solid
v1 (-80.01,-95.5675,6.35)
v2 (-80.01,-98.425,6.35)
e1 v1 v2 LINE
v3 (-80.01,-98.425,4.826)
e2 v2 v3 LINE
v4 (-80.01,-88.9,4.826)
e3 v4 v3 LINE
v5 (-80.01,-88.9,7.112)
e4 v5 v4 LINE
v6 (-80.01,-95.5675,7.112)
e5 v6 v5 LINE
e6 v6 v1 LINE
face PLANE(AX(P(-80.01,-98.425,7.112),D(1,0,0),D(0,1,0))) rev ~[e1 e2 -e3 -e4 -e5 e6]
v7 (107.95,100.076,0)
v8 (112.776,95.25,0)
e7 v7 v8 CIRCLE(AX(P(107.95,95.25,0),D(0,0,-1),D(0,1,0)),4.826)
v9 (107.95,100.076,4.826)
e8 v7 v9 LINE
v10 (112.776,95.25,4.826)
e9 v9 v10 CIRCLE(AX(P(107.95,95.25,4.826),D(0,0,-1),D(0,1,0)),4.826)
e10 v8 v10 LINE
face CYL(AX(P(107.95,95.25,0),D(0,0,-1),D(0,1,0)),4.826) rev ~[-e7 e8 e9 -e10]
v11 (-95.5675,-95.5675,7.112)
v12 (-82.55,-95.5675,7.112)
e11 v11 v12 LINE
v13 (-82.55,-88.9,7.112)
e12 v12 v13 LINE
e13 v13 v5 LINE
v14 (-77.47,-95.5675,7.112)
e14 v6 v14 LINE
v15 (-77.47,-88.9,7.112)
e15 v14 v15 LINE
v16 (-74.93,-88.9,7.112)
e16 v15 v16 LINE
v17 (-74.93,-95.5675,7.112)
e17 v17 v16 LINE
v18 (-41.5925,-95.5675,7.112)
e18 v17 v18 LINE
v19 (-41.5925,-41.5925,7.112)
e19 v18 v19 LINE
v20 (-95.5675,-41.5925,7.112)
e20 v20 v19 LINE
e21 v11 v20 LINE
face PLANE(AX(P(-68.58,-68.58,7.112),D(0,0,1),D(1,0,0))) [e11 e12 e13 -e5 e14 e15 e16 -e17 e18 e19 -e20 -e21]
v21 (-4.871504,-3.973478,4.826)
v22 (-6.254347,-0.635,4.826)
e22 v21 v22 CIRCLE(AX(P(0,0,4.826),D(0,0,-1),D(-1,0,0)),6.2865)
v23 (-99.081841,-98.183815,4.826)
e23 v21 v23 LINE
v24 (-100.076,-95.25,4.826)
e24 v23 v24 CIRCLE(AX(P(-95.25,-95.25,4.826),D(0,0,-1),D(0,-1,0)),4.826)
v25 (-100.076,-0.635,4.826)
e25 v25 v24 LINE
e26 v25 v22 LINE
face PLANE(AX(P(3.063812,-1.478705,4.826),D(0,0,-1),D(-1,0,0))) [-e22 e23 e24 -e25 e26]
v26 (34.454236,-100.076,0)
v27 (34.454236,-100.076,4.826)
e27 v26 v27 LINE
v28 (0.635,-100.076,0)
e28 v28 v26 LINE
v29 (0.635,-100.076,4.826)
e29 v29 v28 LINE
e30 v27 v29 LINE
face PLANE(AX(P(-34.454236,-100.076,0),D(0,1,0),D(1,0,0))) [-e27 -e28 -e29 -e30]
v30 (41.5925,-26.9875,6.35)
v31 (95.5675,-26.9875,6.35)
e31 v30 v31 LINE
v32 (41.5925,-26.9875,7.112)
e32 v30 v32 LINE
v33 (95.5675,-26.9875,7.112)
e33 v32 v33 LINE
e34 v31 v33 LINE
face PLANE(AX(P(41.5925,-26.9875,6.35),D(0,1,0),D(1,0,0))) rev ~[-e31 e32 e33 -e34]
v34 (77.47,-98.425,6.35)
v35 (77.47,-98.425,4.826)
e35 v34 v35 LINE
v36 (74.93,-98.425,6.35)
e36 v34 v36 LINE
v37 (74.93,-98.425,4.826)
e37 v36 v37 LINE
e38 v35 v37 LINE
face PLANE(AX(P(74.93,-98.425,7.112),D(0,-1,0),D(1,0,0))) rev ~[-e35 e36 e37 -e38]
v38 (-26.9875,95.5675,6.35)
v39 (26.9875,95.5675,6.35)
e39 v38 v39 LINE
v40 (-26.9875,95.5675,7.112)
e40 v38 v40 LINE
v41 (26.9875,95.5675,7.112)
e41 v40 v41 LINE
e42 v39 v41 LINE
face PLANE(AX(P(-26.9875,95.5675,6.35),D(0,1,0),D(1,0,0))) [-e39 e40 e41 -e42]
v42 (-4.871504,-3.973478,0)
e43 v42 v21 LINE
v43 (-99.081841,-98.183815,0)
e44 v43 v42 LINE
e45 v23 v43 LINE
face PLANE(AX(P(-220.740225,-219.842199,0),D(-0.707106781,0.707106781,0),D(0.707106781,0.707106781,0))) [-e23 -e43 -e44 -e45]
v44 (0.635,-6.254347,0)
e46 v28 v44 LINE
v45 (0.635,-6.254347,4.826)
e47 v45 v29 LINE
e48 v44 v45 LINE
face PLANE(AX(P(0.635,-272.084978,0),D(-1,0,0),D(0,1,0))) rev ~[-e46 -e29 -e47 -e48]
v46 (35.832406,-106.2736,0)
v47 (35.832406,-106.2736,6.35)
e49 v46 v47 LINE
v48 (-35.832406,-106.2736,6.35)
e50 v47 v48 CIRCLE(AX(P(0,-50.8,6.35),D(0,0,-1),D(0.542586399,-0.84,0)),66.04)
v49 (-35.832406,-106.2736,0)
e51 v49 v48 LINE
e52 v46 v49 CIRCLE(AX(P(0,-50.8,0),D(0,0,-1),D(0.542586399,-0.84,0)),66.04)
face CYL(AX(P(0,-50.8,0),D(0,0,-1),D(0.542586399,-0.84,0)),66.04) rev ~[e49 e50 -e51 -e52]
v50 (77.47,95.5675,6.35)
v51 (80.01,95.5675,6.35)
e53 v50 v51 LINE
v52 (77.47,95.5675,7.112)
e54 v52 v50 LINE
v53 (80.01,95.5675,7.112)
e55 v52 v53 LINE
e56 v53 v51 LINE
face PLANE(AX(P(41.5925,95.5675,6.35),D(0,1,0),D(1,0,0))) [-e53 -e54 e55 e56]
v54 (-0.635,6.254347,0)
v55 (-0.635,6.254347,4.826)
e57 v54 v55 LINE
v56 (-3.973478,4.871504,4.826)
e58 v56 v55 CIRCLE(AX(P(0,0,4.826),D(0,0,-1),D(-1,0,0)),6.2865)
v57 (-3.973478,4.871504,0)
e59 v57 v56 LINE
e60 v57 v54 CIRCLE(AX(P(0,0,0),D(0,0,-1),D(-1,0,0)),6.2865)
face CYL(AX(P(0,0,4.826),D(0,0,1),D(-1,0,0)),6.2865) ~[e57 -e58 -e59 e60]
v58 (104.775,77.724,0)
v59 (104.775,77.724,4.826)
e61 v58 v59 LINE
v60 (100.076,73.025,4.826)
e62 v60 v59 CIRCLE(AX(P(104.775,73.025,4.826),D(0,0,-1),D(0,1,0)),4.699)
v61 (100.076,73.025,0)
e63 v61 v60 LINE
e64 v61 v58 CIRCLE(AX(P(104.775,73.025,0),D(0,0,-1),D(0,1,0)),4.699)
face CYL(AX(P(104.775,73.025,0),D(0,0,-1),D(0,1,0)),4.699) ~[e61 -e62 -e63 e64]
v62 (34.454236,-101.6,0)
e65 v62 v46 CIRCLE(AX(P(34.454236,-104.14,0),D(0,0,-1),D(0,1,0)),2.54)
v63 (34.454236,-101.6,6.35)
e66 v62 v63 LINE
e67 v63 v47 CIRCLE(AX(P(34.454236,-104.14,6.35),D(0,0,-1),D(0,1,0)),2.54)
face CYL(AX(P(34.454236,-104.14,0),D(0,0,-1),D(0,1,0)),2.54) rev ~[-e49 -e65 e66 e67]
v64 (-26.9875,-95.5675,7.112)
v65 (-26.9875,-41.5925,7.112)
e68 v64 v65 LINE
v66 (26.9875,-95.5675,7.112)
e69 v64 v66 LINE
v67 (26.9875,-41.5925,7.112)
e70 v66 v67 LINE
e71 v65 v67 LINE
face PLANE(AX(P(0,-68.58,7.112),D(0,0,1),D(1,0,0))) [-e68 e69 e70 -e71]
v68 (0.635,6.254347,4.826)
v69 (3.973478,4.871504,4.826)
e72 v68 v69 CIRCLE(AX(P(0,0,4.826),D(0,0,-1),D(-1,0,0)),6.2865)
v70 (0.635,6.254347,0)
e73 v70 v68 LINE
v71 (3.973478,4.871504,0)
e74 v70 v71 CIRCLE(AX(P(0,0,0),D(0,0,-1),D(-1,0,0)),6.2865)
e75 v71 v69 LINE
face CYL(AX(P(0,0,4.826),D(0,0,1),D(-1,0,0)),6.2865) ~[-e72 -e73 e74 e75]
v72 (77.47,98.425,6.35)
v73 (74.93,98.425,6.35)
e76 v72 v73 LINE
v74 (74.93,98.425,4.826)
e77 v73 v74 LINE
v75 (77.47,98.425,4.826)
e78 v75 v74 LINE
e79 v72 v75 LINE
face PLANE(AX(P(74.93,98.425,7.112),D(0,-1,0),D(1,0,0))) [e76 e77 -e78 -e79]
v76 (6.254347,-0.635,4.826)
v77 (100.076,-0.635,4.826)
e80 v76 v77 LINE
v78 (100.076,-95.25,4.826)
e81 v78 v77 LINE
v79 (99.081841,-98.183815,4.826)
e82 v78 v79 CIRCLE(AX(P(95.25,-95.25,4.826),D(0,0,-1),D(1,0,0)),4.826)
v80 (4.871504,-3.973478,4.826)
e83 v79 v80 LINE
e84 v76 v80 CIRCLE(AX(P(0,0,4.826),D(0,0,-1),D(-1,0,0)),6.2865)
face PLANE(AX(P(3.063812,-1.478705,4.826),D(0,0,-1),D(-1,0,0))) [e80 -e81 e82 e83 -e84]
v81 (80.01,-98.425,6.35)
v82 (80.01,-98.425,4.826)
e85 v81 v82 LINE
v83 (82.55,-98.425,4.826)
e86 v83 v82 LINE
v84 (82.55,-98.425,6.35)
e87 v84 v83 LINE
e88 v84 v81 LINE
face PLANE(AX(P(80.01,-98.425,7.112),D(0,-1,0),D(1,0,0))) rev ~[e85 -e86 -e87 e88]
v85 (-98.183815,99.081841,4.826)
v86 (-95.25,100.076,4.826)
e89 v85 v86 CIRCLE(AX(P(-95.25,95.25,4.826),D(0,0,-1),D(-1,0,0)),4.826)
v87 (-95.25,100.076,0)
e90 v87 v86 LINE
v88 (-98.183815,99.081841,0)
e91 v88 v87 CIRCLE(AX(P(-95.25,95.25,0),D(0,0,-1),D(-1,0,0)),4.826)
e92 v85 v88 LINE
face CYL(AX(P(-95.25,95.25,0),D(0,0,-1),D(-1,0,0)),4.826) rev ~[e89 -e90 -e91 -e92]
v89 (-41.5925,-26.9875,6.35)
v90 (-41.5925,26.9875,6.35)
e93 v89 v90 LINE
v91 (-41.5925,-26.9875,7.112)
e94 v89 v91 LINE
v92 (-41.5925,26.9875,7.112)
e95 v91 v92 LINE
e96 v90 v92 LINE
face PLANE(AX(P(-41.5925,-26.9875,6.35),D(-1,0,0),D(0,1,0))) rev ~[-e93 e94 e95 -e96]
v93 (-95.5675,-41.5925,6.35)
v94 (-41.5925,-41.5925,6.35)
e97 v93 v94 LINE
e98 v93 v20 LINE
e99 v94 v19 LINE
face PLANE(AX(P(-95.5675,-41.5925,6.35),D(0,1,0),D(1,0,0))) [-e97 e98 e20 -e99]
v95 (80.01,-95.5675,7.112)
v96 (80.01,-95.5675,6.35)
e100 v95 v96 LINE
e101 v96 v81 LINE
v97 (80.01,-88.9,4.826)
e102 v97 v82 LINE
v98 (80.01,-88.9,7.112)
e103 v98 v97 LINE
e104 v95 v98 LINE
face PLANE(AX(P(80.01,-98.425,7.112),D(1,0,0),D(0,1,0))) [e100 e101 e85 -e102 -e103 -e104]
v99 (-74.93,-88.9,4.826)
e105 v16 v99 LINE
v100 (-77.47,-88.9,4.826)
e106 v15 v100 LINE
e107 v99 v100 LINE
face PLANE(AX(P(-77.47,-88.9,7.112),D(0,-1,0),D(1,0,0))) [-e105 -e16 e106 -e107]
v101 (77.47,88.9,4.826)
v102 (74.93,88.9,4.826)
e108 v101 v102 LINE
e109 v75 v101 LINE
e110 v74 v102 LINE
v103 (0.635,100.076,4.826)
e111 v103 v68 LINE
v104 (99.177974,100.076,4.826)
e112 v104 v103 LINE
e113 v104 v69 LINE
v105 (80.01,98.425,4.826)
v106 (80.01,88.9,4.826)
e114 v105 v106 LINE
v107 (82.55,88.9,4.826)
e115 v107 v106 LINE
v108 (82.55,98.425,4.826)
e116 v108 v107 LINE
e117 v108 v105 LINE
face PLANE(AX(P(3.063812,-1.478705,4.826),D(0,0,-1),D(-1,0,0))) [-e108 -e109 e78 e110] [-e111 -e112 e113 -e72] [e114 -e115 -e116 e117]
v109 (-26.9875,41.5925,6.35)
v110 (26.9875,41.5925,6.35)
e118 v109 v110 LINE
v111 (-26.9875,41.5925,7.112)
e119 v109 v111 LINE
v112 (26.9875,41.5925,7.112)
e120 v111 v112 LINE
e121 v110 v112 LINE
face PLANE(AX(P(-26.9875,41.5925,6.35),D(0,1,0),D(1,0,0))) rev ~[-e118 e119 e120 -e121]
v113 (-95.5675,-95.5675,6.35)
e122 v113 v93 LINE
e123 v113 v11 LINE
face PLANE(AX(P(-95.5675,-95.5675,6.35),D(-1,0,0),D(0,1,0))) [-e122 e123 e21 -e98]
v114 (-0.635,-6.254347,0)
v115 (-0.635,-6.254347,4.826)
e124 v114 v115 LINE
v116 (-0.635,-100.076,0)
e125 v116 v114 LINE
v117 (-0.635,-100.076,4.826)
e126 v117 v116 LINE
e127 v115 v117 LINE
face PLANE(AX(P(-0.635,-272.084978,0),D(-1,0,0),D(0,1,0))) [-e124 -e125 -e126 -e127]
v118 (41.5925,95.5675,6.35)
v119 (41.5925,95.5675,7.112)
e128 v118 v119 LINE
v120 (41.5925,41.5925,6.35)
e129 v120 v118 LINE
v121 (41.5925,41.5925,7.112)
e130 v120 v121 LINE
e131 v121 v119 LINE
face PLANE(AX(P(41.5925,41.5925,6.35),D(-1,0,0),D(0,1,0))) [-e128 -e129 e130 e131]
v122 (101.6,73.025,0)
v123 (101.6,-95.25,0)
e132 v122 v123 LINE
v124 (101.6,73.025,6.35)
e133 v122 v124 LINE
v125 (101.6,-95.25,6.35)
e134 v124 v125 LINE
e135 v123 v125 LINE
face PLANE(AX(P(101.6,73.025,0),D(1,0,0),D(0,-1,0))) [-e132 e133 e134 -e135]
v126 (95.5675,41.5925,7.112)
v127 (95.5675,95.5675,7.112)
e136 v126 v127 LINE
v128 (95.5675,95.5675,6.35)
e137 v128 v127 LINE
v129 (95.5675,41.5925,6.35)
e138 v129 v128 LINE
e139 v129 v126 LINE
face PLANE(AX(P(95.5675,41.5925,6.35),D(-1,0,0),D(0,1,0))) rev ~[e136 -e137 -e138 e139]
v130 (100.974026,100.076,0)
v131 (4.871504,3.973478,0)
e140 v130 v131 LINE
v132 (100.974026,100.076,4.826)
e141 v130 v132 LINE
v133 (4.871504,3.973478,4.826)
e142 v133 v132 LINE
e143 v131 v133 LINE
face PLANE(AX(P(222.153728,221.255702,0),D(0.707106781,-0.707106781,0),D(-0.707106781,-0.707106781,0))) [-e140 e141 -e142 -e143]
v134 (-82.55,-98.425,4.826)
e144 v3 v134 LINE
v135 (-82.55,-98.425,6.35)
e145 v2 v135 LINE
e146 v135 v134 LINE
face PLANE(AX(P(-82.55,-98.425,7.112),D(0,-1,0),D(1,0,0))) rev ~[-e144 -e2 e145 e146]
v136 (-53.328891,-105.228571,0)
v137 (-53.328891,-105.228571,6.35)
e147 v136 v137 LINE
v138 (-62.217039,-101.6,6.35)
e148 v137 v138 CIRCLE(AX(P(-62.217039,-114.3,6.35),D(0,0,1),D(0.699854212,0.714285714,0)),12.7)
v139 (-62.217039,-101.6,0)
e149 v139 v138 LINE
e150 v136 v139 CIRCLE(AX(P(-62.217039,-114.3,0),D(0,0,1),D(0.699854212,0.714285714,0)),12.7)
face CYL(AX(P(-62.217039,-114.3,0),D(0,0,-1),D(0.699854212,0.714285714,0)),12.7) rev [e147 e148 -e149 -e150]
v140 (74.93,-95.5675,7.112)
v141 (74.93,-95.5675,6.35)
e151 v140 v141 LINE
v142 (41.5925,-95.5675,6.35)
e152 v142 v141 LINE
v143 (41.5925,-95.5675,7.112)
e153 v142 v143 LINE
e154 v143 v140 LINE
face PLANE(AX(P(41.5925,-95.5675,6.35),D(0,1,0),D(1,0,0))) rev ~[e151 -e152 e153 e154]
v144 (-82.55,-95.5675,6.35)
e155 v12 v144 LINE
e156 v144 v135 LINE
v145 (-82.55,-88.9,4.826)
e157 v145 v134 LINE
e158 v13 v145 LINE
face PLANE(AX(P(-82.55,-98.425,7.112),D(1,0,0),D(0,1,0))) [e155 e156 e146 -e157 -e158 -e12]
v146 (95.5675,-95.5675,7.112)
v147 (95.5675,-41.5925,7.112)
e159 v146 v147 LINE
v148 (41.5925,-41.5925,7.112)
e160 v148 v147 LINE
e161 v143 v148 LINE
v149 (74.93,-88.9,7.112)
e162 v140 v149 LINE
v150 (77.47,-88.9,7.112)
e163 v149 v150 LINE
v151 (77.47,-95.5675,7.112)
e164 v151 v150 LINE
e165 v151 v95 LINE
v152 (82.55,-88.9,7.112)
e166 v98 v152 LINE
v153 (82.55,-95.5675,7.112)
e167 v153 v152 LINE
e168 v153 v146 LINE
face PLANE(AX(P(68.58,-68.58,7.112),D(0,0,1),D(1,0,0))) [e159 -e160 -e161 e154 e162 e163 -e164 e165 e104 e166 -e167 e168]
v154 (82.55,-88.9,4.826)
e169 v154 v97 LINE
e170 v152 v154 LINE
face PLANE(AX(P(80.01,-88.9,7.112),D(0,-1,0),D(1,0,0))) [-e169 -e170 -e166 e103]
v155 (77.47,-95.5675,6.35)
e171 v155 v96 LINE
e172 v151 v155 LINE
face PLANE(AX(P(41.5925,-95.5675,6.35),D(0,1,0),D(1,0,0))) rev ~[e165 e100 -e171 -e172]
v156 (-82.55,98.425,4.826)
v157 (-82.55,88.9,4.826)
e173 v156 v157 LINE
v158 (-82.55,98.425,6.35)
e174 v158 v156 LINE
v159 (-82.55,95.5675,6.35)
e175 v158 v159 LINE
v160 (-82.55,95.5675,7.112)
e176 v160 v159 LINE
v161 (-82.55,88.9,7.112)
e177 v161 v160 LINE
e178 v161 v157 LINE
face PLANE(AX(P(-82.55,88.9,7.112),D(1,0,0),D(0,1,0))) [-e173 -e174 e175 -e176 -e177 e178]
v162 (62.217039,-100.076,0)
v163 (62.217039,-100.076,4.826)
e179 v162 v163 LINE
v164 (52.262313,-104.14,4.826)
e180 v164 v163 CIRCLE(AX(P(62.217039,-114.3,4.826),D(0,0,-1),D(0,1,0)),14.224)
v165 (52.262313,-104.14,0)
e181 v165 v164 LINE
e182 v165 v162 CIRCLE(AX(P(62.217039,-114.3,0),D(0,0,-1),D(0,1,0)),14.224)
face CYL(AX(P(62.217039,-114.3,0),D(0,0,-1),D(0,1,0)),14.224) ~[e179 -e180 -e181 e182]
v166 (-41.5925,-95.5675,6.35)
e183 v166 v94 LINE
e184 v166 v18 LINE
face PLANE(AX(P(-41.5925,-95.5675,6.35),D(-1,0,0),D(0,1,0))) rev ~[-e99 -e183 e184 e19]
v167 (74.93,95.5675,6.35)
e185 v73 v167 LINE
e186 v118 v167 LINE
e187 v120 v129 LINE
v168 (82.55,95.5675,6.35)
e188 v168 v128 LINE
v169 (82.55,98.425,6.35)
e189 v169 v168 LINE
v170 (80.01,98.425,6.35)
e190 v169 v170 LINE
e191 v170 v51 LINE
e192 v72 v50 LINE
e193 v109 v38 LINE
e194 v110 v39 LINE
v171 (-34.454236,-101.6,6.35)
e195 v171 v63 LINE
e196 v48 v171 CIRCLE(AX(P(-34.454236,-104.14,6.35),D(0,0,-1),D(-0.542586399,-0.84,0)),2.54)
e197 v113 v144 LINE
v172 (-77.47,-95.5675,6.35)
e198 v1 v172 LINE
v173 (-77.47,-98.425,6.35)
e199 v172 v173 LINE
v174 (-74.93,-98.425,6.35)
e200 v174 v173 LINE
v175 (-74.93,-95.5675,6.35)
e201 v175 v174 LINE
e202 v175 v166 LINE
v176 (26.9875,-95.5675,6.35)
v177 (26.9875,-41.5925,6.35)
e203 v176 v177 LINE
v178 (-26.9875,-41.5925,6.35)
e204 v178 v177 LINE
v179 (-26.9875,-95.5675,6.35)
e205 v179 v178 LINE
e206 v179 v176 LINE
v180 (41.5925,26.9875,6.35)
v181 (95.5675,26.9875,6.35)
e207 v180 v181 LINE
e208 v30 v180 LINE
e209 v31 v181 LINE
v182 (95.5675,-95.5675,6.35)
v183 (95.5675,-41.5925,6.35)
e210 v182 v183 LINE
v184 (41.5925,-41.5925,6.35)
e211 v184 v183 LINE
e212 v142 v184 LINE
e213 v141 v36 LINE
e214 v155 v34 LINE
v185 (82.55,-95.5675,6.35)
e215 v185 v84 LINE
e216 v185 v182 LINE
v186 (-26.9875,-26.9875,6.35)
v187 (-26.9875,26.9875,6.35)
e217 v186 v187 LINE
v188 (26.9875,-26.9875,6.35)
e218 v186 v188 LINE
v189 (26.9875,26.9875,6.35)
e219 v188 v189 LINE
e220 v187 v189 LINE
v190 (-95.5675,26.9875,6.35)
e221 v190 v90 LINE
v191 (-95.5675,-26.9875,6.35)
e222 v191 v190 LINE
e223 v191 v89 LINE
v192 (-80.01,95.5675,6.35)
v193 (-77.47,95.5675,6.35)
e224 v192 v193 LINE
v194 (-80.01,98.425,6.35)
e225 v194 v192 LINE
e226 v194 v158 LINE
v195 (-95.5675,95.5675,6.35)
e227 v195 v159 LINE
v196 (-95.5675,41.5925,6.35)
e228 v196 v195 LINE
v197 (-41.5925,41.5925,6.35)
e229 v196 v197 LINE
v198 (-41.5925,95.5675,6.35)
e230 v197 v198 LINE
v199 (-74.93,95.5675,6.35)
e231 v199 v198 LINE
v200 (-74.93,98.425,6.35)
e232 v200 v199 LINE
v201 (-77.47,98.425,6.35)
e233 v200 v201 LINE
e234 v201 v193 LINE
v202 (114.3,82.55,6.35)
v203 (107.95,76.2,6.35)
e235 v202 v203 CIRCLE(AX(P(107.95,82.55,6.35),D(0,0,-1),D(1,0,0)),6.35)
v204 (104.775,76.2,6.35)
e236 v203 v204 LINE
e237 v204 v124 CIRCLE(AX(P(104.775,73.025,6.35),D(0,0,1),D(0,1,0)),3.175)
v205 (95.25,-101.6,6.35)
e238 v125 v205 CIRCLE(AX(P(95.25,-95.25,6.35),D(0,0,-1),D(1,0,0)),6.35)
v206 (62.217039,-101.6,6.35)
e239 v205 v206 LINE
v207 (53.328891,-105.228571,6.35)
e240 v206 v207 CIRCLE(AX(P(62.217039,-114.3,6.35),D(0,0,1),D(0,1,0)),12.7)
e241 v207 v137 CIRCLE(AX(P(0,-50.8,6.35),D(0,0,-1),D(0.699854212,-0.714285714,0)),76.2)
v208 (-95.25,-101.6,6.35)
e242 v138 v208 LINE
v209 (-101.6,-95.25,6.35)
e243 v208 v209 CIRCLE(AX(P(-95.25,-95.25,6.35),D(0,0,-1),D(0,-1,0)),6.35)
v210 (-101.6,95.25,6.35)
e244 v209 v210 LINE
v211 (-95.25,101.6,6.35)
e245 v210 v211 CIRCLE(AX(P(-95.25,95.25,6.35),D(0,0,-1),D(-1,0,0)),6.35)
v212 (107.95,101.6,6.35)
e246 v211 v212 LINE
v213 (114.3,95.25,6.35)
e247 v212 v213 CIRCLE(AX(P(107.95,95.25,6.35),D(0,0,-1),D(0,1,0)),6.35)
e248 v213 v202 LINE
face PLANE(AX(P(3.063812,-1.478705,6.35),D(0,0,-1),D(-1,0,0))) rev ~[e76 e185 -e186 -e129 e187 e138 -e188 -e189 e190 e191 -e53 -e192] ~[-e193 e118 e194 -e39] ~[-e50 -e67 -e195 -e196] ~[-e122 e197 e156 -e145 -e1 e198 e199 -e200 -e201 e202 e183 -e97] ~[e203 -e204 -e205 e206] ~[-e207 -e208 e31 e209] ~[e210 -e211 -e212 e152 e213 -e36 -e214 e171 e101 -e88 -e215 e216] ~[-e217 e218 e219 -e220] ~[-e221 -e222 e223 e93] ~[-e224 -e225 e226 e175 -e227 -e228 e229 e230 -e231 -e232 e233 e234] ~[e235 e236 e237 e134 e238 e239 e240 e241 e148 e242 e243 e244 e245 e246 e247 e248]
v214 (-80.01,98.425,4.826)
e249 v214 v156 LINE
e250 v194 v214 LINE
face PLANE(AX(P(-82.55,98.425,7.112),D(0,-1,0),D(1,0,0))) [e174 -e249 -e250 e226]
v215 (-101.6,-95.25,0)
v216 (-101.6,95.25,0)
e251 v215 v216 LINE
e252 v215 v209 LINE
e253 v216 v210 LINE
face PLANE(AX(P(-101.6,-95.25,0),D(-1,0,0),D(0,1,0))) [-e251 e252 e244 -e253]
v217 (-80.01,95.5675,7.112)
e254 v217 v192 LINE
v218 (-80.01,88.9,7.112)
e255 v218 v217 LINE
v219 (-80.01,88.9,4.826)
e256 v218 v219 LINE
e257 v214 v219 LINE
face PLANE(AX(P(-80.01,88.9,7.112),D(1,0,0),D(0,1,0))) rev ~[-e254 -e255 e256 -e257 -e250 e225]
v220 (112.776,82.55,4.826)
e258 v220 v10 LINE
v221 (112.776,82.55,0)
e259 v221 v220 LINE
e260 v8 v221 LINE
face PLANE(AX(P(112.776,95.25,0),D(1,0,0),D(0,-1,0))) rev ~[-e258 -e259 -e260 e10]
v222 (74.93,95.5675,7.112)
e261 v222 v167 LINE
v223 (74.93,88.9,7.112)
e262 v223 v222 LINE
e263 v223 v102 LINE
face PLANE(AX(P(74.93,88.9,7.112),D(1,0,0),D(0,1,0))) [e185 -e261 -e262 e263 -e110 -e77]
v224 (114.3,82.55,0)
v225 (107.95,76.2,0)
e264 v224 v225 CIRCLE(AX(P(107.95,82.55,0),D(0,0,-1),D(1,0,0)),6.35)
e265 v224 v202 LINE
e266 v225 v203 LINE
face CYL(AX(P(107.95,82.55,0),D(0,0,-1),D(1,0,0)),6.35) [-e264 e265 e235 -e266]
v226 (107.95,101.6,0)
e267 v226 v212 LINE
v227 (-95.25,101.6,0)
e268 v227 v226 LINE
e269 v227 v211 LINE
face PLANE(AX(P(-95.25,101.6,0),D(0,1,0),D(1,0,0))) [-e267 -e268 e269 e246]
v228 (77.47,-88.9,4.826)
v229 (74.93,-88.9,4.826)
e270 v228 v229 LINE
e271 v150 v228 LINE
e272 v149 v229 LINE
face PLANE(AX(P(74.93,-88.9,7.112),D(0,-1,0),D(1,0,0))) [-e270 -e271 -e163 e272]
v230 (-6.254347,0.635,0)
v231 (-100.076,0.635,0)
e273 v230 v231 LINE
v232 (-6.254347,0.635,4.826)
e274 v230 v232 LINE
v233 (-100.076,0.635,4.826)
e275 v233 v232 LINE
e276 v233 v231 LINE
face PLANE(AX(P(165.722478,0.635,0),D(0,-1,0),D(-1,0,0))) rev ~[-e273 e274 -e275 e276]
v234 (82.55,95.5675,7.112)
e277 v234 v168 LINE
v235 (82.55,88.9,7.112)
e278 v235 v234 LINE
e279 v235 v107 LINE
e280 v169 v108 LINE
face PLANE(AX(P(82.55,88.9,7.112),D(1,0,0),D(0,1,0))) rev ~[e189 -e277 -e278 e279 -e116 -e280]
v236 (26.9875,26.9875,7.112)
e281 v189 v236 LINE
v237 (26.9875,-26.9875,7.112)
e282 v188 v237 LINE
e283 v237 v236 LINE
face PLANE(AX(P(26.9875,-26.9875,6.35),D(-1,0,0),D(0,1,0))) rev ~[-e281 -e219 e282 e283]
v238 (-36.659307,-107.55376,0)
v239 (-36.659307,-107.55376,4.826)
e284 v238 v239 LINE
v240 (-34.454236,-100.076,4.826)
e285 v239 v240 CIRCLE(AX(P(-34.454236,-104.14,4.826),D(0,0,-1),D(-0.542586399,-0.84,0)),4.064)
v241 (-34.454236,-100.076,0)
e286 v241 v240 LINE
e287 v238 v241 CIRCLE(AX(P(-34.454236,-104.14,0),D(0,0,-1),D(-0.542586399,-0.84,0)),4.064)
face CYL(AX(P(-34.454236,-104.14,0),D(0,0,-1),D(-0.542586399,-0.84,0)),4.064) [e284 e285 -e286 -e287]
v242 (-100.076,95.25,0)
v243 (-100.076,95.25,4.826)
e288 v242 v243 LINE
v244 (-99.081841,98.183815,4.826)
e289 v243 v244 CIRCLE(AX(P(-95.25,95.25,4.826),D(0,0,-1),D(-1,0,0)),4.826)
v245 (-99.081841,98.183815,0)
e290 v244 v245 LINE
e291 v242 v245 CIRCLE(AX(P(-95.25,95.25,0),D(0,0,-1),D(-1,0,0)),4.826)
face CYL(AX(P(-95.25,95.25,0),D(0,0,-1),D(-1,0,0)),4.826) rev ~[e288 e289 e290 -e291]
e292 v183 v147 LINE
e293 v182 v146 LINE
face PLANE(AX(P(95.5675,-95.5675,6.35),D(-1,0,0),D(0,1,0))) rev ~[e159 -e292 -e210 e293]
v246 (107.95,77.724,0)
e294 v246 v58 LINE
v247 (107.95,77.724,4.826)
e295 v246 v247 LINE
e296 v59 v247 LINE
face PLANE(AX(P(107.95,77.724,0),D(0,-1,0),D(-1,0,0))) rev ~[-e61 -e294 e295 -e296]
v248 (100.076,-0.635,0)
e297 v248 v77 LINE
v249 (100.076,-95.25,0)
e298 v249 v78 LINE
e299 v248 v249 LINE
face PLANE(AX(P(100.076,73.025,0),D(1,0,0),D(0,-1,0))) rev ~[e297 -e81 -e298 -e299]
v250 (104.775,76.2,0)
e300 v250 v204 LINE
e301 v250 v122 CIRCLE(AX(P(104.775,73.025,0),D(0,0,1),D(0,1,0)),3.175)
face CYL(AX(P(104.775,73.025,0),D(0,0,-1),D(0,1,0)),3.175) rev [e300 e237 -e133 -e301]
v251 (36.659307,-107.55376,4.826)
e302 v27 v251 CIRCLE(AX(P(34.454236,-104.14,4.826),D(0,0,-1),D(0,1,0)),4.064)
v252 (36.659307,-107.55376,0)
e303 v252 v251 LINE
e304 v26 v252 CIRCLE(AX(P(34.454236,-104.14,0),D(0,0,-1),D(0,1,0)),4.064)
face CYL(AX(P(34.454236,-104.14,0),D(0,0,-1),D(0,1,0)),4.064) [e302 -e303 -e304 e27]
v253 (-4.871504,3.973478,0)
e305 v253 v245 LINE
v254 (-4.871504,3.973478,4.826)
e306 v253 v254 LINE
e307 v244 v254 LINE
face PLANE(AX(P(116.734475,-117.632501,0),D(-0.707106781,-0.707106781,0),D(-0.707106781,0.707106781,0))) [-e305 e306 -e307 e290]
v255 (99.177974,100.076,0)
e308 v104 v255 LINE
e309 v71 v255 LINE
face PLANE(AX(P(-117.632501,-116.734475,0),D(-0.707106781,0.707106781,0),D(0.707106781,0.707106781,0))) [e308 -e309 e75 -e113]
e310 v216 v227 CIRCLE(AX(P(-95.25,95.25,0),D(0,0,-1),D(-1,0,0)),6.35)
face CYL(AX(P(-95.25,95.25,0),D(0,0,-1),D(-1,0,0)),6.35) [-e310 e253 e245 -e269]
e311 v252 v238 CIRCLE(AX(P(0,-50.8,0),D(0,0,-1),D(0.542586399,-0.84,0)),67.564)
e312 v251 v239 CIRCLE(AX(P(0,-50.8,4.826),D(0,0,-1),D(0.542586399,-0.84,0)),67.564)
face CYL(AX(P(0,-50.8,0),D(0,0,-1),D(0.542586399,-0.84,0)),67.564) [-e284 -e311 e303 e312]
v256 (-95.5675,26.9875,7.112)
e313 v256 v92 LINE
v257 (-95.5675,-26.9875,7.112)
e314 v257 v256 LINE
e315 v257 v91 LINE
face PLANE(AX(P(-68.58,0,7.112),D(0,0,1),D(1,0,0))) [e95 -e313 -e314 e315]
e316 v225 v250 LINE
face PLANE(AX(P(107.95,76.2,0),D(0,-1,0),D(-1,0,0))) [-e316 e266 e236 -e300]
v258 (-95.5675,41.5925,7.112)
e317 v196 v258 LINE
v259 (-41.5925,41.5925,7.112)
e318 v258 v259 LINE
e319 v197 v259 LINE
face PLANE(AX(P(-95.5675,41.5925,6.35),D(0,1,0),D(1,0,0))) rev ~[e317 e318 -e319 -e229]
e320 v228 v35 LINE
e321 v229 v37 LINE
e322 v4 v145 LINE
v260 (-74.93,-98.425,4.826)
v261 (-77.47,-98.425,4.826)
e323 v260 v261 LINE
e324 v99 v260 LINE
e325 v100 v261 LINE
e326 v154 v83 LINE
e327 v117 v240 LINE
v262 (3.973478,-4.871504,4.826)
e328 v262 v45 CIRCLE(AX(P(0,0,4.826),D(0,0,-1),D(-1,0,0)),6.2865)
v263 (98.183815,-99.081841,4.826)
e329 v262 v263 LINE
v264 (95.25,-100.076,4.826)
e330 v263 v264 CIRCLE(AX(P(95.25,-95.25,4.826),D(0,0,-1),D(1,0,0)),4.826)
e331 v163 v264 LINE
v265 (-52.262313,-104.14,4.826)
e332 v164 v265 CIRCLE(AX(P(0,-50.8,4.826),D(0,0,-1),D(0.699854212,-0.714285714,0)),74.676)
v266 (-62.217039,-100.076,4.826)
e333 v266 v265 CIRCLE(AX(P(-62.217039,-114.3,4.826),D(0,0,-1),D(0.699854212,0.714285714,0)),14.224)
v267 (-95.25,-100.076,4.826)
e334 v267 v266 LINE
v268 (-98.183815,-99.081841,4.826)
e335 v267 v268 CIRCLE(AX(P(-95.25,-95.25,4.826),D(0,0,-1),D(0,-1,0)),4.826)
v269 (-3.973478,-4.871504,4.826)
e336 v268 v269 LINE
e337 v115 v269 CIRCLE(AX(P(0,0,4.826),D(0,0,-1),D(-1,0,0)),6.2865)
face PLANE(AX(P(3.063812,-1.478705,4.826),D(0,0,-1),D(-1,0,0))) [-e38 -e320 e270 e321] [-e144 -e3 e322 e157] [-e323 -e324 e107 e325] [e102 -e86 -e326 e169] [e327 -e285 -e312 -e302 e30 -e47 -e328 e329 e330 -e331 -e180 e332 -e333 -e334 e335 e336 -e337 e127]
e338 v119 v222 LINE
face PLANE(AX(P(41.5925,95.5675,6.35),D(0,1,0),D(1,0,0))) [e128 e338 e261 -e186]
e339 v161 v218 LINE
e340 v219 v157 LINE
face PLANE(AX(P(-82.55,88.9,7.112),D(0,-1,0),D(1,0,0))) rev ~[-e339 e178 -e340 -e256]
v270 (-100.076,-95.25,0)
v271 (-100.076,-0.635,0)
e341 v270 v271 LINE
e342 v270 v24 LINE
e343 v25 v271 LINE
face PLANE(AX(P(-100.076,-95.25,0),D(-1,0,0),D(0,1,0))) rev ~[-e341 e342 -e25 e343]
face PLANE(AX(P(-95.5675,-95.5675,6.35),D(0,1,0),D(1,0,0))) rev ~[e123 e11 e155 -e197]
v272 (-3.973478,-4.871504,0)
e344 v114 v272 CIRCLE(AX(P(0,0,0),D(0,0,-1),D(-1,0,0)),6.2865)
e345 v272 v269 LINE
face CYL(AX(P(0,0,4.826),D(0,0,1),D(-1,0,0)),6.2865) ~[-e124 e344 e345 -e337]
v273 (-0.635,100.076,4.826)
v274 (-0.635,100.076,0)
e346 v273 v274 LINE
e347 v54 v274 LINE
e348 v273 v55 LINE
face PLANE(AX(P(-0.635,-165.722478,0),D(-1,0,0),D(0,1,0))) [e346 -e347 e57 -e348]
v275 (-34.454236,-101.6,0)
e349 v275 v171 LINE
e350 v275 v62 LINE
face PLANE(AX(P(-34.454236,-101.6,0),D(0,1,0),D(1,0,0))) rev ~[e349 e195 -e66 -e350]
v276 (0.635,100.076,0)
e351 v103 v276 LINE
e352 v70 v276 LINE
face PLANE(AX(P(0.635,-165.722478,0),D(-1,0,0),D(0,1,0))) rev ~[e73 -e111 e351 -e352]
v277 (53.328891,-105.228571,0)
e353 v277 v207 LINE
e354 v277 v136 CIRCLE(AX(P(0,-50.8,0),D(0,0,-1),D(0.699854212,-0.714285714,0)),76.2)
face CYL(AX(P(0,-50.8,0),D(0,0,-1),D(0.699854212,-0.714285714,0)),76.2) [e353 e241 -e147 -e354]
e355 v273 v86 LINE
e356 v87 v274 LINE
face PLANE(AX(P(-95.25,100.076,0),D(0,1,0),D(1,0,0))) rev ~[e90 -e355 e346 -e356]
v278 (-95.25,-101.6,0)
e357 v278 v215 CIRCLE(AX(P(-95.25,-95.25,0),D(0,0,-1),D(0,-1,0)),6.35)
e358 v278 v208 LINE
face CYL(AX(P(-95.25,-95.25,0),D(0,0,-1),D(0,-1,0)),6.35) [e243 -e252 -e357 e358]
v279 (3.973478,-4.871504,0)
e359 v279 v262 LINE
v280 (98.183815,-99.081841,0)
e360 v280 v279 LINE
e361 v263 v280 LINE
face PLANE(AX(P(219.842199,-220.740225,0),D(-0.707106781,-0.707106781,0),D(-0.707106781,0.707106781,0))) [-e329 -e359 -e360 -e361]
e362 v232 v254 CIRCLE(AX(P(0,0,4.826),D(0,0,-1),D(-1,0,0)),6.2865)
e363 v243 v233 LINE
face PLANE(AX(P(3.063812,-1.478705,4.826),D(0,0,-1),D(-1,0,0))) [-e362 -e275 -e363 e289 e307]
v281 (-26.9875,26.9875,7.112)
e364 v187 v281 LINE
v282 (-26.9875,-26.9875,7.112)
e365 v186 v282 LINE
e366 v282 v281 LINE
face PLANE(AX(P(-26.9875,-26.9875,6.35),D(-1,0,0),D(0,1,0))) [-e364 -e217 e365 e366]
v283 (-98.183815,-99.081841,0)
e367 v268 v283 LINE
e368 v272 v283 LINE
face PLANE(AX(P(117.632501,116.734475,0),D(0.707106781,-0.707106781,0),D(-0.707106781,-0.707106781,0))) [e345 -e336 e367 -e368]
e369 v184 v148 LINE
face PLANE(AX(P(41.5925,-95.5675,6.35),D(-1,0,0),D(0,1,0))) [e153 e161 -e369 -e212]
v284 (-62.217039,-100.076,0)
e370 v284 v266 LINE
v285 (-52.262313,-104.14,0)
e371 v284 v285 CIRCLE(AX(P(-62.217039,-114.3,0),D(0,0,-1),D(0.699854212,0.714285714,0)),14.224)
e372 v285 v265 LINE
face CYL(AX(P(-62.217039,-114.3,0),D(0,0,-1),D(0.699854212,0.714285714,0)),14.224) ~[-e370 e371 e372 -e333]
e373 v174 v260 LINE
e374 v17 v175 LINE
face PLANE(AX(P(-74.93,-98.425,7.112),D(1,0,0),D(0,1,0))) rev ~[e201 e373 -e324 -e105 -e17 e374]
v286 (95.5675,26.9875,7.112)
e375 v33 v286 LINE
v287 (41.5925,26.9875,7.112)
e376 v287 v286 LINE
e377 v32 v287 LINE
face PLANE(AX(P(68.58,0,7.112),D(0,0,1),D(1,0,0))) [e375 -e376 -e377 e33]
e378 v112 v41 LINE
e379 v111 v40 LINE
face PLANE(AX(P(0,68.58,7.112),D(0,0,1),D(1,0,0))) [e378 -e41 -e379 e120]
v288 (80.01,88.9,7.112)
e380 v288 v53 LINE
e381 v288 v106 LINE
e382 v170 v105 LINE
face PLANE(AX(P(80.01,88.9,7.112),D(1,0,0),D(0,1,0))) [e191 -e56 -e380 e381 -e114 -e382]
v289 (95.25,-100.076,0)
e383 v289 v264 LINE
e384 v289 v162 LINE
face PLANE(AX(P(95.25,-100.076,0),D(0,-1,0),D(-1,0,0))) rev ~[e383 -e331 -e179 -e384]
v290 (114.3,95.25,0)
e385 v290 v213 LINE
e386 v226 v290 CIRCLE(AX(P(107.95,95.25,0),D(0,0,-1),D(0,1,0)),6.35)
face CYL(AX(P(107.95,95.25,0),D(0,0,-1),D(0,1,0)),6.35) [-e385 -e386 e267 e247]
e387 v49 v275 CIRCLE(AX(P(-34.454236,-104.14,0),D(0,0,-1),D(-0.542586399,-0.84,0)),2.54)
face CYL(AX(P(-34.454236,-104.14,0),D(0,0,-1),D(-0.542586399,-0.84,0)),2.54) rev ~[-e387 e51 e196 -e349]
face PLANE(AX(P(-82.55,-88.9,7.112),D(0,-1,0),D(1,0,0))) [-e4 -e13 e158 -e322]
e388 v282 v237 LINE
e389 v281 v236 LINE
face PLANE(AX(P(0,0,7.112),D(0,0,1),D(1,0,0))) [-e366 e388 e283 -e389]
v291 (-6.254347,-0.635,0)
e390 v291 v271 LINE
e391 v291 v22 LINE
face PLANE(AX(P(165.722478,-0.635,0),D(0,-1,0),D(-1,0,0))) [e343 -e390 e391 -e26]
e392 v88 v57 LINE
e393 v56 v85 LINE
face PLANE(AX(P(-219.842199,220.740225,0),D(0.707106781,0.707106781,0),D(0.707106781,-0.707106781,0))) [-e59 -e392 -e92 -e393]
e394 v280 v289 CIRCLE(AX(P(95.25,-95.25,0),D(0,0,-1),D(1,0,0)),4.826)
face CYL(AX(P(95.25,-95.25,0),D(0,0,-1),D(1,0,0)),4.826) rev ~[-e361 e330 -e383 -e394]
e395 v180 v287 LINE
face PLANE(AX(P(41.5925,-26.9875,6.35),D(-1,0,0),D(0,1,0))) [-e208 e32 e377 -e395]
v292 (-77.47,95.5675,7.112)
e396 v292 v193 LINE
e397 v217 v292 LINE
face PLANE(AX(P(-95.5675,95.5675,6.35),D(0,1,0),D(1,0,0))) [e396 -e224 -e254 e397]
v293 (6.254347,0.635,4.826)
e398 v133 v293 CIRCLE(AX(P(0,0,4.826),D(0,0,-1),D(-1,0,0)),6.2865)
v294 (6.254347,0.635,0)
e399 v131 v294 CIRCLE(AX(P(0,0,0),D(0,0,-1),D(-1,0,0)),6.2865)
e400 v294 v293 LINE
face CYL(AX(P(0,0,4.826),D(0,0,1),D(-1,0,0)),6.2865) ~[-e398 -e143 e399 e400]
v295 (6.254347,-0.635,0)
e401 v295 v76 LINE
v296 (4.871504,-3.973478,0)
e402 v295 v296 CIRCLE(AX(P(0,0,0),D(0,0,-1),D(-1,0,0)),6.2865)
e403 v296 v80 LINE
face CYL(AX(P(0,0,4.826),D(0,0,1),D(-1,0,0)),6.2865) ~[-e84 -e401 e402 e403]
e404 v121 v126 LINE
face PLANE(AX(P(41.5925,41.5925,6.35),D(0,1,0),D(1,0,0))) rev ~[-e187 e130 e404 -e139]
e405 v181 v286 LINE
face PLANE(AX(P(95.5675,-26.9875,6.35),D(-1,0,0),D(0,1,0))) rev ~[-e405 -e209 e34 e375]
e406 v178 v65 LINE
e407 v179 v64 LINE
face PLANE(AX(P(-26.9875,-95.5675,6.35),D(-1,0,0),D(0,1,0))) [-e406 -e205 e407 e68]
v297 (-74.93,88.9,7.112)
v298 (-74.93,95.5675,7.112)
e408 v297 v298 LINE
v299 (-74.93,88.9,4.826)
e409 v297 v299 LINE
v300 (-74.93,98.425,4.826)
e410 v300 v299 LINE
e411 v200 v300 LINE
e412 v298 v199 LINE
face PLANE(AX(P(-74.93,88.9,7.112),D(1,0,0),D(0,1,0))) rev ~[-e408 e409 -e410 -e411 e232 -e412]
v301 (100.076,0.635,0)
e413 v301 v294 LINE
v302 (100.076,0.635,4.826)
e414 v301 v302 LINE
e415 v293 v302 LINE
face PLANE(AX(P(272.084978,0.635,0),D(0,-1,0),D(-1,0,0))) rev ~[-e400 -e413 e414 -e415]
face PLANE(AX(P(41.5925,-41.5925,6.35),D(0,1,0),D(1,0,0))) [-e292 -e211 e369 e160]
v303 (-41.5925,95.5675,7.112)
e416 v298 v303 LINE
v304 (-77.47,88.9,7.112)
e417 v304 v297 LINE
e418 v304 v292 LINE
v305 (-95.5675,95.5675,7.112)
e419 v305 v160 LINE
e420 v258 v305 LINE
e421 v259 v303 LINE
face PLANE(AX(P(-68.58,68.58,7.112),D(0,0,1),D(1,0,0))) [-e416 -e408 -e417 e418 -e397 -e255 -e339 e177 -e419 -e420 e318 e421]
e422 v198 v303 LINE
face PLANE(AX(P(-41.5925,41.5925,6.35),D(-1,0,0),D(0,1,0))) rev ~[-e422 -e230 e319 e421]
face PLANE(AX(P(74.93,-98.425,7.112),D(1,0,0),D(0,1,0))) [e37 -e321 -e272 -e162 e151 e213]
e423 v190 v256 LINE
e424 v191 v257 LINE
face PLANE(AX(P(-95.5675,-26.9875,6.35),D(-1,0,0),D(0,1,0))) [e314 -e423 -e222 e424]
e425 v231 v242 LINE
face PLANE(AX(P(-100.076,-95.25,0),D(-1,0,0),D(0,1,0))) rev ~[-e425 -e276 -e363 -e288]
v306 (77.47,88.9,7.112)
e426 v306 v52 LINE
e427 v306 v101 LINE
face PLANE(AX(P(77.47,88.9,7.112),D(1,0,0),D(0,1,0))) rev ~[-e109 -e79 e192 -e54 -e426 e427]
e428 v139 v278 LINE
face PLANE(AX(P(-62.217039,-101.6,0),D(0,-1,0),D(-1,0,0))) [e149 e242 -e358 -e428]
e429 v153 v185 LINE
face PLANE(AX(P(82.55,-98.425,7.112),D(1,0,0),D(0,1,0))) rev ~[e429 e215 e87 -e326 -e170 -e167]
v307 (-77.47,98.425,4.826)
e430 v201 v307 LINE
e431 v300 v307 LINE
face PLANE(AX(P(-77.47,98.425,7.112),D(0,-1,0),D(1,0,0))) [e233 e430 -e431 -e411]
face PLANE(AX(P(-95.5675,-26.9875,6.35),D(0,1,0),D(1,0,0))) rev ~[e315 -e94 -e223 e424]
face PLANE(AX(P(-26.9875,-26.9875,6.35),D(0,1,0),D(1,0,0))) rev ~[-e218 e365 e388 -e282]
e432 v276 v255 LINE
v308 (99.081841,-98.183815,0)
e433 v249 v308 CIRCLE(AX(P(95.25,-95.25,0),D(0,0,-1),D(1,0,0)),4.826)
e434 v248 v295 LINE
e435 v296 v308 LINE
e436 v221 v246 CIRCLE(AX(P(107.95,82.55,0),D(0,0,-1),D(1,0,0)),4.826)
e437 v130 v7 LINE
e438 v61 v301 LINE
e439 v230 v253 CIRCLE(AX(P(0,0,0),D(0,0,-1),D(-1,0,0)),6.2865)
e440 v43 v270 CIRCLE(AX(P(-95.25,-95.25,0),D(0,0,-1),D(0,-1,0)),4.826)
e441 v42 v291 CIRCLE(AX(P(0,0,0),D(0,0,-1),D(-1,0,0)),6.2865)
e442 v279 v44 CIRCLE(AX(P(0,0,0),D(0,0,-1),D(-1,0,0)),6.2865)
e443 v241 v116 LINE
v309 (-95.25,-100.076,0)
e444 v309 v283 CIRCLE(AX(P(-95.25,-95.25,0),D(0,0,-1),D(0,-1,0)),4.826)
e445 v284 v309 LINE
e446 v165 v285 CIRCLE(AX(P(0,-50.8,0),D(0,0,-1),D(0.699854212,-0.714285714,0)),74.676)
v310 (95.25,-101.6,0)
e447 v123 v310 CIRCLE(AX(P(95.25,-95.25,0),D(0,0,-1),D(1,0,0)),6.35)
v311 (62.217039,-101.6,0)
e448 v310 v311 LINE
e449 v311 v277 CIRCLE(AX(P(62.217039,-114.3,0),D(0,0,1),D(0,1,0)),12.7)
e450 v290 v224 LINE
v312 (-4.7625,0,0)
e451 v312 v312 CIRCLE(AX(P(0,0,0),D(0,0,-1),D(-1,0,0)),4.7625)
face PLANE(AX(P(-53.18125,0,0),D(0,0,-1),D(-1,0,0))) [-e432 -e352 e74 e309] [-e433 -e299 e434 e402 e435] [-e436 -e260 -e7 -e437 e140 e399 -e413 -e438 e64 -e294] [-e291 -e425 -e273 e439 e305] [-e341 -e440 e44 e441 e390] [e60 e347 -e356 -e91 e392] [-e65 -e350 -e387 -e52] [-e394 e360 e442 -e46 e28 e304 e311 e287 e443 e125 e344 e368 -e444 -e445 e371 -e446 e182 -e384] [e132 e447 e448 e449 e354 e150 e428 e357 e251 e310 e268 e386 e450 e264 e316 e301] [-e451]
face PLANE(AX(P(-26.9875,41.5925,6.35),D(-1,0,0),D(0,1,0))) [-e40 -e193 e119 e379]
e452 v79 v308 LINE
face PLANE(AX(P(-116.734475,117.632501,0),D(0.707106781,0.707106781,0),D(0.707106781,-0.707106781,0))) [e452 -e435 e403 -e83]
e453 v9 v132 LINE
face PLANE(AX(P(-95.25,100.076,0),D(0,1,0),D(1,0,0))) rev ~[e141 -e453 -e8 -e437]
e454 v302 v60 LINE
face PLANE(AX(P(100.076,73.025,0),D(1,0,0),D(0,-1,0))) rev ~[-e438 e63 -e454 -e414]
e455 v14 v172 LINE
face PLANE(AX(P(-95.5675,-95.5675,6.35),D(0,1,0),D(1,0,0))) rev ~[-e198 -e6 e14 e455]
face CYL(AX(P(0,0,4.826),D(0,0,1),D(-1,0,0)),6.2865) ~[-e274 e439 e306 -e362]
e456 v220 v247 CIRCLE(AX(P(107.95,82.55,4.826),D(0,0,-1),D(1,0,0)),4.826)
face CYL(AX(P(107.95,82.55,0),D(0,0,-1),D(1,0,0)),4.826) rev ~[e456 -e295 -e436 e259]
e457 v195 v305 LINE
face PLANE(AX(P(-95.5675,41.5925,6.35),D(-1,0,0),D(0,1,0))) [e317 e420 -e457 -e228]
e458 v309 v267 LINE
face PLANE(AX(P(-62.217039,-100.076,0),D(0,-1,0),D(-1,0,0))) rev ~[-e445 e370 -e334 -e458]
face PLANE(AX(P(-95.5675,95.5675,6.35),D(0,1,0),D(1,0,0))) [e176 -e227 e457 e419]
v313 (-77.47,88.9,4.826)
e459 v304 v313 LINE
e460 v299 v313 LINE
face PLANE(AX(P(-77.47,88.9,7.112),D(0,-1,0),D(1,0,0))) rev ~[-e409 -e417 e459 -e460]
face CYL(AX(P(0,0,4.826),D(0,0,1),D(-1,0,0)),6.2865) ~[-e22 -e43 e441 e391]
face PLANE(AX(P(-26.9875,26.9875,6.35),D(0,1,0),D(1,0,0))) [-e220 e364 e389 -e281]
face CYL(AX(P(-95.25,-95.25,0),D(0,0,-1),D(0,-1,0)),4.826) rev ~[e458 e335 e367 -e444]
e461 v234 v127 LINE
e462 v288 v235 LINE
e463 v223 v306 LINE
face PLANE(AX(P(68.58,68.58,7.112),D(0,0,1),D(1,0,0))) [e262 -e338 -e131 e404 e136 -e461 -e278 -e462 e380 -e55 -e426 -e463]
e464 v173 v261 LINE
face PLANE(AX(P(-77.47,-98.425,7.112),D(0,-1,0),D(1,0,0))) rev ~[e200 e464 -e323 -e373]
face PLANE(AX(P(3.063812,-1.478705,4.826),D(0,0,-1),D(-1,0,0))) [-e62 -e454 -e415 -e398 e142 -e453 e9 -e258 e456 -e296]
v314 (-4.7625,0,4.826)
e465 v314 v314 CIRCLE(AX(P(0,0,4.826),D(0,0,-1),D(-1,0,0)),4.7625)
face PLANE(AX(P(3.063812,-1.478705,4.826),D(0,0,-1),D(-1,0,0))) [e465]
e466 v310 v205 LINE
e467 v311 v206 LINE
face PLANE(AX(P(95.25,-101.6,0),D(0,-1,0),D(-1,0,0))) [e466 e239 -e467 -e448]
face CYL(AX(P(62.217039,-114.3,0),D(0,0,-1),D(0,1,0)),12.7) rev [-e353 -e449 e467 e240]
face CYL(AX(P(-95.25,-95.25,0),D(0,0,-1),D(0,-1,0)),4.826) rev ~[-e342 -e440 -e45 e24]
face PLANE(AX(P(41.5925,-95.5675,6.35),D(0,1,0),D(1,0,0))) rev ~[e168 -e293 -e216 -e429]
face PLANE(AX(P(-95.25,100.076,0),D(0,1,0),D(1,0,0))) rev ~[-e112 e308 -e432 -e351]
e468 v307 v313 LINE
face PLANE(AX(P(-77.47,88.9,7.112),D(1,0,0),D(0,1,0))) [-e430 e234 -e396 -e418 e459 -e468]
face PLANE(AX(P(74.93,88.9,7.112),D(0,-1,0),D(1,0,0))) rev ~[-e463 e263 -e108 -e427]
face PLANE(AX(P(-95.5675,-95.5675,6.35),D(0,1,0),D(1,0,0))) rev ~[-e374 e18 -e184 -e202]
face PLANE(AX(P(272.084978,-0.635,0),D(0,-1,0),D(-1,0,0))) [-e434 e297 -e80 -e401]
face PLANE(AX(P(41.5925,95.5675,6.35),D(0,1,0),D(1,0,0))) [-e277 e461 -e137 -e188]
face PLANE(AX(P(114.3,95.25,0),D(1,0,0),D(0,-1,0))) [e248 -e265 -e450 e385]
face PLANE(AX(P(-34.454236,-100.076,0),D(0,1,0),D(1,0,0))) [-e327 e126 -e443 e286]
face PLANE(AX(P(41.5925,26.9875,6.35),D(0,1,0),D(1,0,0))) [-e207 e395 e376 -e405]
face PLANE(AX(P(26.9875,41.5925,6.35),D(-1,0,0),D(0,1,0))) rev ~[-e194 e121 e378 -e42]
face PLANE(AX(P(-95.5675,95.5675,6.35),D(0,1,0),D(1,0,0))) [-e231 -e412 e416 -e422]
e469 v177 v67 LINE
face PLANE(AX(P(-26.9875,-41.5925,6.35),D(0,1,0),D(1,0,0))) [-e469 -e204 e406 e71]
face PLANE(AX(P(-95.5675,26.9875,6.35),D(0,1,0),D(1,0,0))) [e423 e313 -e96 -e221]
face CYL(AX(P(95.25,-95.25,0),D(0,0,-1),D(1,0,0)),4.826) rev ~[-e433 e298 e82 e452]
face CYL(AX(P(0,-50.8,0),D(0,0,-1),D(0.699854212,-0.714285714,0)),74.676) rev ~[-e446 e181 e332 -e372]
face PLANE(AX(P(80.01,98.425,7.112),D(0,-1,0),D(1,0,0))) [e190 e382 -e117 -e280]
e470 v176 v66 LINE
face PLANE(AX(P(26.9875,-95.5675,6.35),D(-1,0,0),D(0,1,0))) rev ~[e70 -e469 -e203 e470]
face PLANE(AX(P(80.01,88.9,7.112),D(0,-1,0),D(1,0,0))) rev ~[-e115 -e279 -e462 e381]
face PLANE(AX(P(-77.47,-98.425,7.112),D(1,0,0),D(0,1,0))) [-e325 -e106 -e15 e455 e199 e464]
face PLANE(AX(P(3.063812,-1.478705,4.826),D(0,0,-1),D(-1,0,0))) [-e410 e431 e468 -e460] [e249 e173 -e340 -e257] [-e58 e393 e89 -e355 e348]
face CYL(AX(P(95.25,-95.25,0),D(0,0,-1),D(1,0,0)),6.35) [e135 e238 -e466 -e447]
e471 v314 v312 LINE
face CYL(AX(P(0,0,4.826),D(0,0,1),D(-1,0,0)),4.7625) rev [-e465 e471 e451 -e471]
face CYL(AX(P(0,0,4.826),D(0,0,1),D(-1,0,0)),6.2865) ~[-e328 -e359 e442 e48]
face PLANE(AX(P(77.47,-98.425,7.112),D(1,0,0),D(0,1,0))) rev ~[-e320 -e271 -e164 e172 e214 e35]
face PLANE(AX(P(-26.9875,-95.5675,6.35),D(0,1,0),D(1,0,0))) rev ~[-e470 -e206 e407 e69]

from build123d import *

# Parameters (mm, degrees)
BOSS_EXTRUDE1_DEPTH = 6.35
SHELL1_T            = -1.524
SKETCH2_W           = 53.975
SKETCH2_H           = 53.975
BOSS_EXTRUDE2_DEPTH = 0.762
SKETCH3_W           = 2.54
SKETCH3_H           = 9.525
CUT_EXTRUDE1_DEPTH  = 172.008977963
SKETCH4_R           = 6.2865
SKETCH4_R_2         = 4.7625
BOSS_EXTRUDE3_DEPTH = 4.826
RIB1_REACH          = 173.009
SKETCH5_WALLS_W     = 437.807455926
SKETCH5_WALLS_H     = 1.27
SKETCH5_WALLS_W_2   = 1.27
SKETCH5_WALLS_H_2   = 437.807455926


with BuildPart() as part:
    # Sketch1 → Boss-Extrude1 (new body)
    with BuildSketch(Plane.XY):
        with BuildLine():
            Line((101.6, 101.6), (107.95, 101.6))
            ThreePointArc((107.95, 101.6), (112.440128061, 99.740128061), (114.3, 95.25))
            Line((114.3, 95.25), (114.3, 82.55))
            ThreePointArc((114.3, 82.55), (112.440128061, 78.059871939), (107.95, 76.2))
            Line((107.95, 76.2), (104.775, 76.2))
            ThreePointArc((104.775, 76.2), (102.52993597, 75.27006403), (101.6, 73.025))
            Line((101.6, 73.025), (101.6, -95.25))
            ThreePointArc((101.6, -95.25), (99.740128061, -99.740128061), (95.25, -101.6))
            Line((95.25, -101.6), (62.217039467, -101.6))
            ThreePointArc((62.217039467, -101.6), (57.416890659, -102.542084733), (53.328890971, -105.228571429))
            ThreePointArc((53.328890971, -105.228571429), (0, -127), (-53.328890971, -105.228571429))
            ThreePointArc((-53.328890971, -105.228571429), (-57.416890659, -102.542084733), (-62.217039467, -101.6))
            Line((-62.217039467, -101.6), (-95.25, -101.6))
            ThreePointArc((-95.25, -101.6), (-99.740128061, -99.740128061), (-101.6, -95.25))
            Line((-101.6, -95.25), (-101.6, 95.25))
            ThreePointArc((-101.6, 95.25), (-99.740128061, 99.740128061), (-95.25, 101.6))
            Line((-95.25, 101.6), (101.6, 101.6))
        make_face()
        with BuildLine():
            Line((-34.454236314, -101.6), (34.454236314, -101.6))
            ThreePointArc((34.454236314, -101.6), (36.890518728, -103.42157951), (35.832405767, -106.2736))
            ThreePointArc((35.832405767, -106.2736), (0, -116.84), (-35.832405767, -106.2736))
            ThreePointArc((-35.832405767, -106.2736), (-36.890518728, -103.42157951), (-34.454236314, -101.6))
        make_face(mode=Mode.SUBTRACT)
    extrude(amount=BOSS_EXTRUDE1_DEPTH)

    # Shell1
    shell1_openings = [part.faces().sort_by_distance(p)[0] for p in [
        (0.794834734, -2.433656068, 0),
    ]]
    offset(amount=SHELL1_T, openings=shell1_openings, kind=Kind.INTERSECTION)

    # Sketch2 → Boss-Extrude2 (add)
    with BuildSketch(Plane.XY.offset(6.35)):
        with Locations((68.58, 0)):
            Rectangle(SKETCH2_W, SKETCH2_H)
        Rectangle(SKETCH2_W, SKETCH2_H)
        with Locations((68.58, 68.58)):
            Rectangle(SKETCH2_W, SKETCH2_H)
        with Locations((68.58, -68.58)):
            Rectangle(SKETCH2_W, SKETCH2_H)
        with Locations((0, -68.58)):
            Rectangle(SKETCH2_W, SKETCH2_H)
        with Locations((-68.58, -68.58)):
            Rectangle(SKETCH2_W, SKETCH2_H)
        with Locations((-68.58, 0)):
            Rectangle(SKETCH2_W, SKETCH2_H)
        with Locations((-68.58, 68.58)):
            Rectangle(SKETCH2_W, SKETCH2_H)
        with Locations((0, 68.58)):
            Rectangle(SKETCH2_W, SKETCH2_H)
    extrude(amount=BOSS_EXTRUDE2_DEPTH)

    # Sketch3 → Cut-Extrude1 (cut, through all)
    with BuildSketch(Plane.XY.offset(7.112)):
        with Locations((-81.28, 93.6625)):
            Rectangle(SKETCH3_W, SKETCH3_H)
        with Locations((-76.2, 93.6625)):
            Rectangle(SKETCH3_W, SKETCH3_H)
        with Locations((76.2, 93.6625)):
            Rectangle(SKETCH3_W, SKETCH3_H)
        with Locations((81.28, 93.6625)):
            Rectangle(SKETCH3_W, SKETCH3_H)
        with Locations((81.28, -93.6625)):
            Rectangle(SKETCH3_W, SKETCH3_H)
        with Locations((76.2, -93.6625)):
            Rectangle(SKETCH3_W, SKETCH3_H)
        with Locations((-76.2, -93.6625)):
            Rectangle(SKETCH3_W, SKETCH3_H)
        with Locations((-81.28, -93.6625)):
            Rectangle(SKETCH3_W, SKETCH3_H)
    extrude(amount=-CUT_EXTRUDE1_DEPTH, mode=Mode.SUBTRACT)

    # Sketch4 → Boss-Extrude3 (add)
    with BuildSketch(Plane(origin=(0, 0, 4.826), x_dir=(-1, 0, 0), z_dir=(0, 0, -1))):
        Circle(SKETCH4_R)
        Circle(SKETCH4_R_2, mode=Mode.SUBTRACT)
    extrude(amount=BOSS_EXTRUDE3_DEPTH)

    # Sketch5 walls → Rib1 (add, up to next)
    with BuildSketch(Plane(origin=(0, 0, 0), x_dir=(-1, 0, 0), z_dir=(0, 0, -1)), mode=Mode.PRIVATE) as rib1_sk1:
        with Locations((53.18125, 0)):
            Rectangle(SKETCH5_WALLS_W, SKETCH5_WALLS_H)
    rib1_tool1 = extrude(rib1_sk1.sketch, amount=-RIB1_REACH, mode=Mode.PRIVATE) - part.part
    # Sketch5 walls → Rib1 (add, up to next)
    with BuildSketch(Plane(origin=(0, 0, 0), x_dir=(-1, 0, 0), z_dir=(0, 0, -1)), mode=Mode.PRIVATE) as rib1_sk2:
        with Locations((-53.18125, 0)):
            Rectangle(SKETCH5_WALLS_W, SKETCH5_WALLS_H)
    rib1_tool2 = extrude(rib1_sk2.sketch, amount=-RIB1_REACH, mode=Mode.PRIVATE) - part.part
    # Sketch5 walls → Rib1 (add, up to next)
    with BuildSketch(Plane(origin=(0, 0, 0), x_dir=(-1, 0, 0), z_dir=(0, 0, -1)), mode=Mode.PRIVATE) as rib1_sk3:
        with Locations((0, -53.18125)):
            Rectangle(SKETCH5_WALLS_W_2, SKETCH5_WALLS_H_2)
    rib1_tool3 = extrude(rib1_sk3.sketch, amount=-RIB1_REACH, mode=Mode.PRIVATE) - part.part
    # Sketch5 walls → Rib1 (add, up to next)
    with BuildSketch(Plane(origin=(0, 0, 0), x_dir=(-1, 0, 0), z_dir=(0, 0, -1)), mode=Mode.PRIVATE) as rib1_sk4:
        with Locations((0, 53.18125)):
            Rectangle(SKETCH5_WALLS_W_2, SKETCH5_WALLS_H_2)
    rib1_tool4 = extrude(rib1_sk4.sketch, amount=-RIB1_REACH, mode=Mode.PRIVATE) - part.part
    # Sketch5 walls → Rib1 (add, up to next)
    with BuildSketch(Plane(origin=(0, 0, 0), x_dir=(-1, 0, 0), z_dir=(0, 0, -1)), mode=Mode.PRIVATE) as rib1_sk5:
        Polygon((-116.734475157, -117.632500769), (220.740224875, 219.842199263), (219.842199263, 220.740224875), (-117.632500769, -116.734475157), align=None)
    rib1_tool5 = extrude(rib1_sk5.sketch, amount=-RIB1_REACH, mode=Mode.PRIVATE) - part.part
    # Sketch5 walls → Rib1 (add, up to next)
    with BuildSketch(Plane(origin=(0, 0, 0), x_dir=(-1, 0, 0), z_dir=(0, 0, -1)), mode=Mode.PRIVATE) as rib1_sk6:
        Polygon((-117.632500769, 116.734475157), (219.842199263, -220.740224875), (220.740224875, -219.842199263), (-116.734475157, 117.632500769), align=None)
    rib1_tool6 = extrude(rib1_sk6.sketch, amount=-RIB1_REACH, mode=Mode.PRIVATE) - part.part
    # Sketch5 walls → Rib1 (add, up to next)
    with BuildSketch(Plane(origin=(0, 0, 0), x_dir=(-1, 0, 0), z_dir=(0, 0, -1)), mode=Mode.PRIVATE) as rib1_sk7:
        Polygon((116.734475157, 117.632500769), (-220.740224875, -219.842199263), (-219.842199263, -220.740224875), (117.632500769, 116.734475157), align=None)
    rib1_tool7 = extrude(rib1_sk7.sketch, amount=-RIB1_REACH, mode=Mode.PRIVATE) - part.part
    # Sketch5 walls → Rib1 (add, up to next)
    with BuildSketch(Plane(origin=(0, 0, 0), x_dir=(-1, 0, 0), z_dir=(0, 0, -1)), mode=Mode.PRIVATE) as rib1_sk8:
        Polygon((117.632500769, -116.734475157), (-221.255701937, 222.153727549), (-222.153727549, 221.255701937), (116.734475157, -117.632500769), align=None)
    rib1_tool8 = extrude(rib1_sk8.sketch, amount=-RIB1_REACH, mode=Mode.PRIVATE) - part.part
    add(rib1_tool1.solids().sort_by_distance((-53.18125, 0, 0))[0])
    add(rib1_tool2.solids().sort_by_distance((53.18125, 0, 0))[0])
    add(rib1_tool3.solids().sort_by_distance((0, -53.18125, 0))[0])
    add(rib1_tool4.solids().sort_by_distance((0, 53.18125, 0))[0])
    add(rib1_tool5.solids().sort_by_distance((-51.553862053, 51.553862053, 0))[0])
    add(rib1_tool6.solids().sort_by_distance((-51.553862053, -51.553862053, 0))[0])
    add(rib1_tool7.solids().sort_by_distance((51.553862053, -51.553862053, 0))[0])
    add(rib1_tool8.solids().sort_by_distance((52.26061339, 52.26061339, 0))[0])


solid = part.part
